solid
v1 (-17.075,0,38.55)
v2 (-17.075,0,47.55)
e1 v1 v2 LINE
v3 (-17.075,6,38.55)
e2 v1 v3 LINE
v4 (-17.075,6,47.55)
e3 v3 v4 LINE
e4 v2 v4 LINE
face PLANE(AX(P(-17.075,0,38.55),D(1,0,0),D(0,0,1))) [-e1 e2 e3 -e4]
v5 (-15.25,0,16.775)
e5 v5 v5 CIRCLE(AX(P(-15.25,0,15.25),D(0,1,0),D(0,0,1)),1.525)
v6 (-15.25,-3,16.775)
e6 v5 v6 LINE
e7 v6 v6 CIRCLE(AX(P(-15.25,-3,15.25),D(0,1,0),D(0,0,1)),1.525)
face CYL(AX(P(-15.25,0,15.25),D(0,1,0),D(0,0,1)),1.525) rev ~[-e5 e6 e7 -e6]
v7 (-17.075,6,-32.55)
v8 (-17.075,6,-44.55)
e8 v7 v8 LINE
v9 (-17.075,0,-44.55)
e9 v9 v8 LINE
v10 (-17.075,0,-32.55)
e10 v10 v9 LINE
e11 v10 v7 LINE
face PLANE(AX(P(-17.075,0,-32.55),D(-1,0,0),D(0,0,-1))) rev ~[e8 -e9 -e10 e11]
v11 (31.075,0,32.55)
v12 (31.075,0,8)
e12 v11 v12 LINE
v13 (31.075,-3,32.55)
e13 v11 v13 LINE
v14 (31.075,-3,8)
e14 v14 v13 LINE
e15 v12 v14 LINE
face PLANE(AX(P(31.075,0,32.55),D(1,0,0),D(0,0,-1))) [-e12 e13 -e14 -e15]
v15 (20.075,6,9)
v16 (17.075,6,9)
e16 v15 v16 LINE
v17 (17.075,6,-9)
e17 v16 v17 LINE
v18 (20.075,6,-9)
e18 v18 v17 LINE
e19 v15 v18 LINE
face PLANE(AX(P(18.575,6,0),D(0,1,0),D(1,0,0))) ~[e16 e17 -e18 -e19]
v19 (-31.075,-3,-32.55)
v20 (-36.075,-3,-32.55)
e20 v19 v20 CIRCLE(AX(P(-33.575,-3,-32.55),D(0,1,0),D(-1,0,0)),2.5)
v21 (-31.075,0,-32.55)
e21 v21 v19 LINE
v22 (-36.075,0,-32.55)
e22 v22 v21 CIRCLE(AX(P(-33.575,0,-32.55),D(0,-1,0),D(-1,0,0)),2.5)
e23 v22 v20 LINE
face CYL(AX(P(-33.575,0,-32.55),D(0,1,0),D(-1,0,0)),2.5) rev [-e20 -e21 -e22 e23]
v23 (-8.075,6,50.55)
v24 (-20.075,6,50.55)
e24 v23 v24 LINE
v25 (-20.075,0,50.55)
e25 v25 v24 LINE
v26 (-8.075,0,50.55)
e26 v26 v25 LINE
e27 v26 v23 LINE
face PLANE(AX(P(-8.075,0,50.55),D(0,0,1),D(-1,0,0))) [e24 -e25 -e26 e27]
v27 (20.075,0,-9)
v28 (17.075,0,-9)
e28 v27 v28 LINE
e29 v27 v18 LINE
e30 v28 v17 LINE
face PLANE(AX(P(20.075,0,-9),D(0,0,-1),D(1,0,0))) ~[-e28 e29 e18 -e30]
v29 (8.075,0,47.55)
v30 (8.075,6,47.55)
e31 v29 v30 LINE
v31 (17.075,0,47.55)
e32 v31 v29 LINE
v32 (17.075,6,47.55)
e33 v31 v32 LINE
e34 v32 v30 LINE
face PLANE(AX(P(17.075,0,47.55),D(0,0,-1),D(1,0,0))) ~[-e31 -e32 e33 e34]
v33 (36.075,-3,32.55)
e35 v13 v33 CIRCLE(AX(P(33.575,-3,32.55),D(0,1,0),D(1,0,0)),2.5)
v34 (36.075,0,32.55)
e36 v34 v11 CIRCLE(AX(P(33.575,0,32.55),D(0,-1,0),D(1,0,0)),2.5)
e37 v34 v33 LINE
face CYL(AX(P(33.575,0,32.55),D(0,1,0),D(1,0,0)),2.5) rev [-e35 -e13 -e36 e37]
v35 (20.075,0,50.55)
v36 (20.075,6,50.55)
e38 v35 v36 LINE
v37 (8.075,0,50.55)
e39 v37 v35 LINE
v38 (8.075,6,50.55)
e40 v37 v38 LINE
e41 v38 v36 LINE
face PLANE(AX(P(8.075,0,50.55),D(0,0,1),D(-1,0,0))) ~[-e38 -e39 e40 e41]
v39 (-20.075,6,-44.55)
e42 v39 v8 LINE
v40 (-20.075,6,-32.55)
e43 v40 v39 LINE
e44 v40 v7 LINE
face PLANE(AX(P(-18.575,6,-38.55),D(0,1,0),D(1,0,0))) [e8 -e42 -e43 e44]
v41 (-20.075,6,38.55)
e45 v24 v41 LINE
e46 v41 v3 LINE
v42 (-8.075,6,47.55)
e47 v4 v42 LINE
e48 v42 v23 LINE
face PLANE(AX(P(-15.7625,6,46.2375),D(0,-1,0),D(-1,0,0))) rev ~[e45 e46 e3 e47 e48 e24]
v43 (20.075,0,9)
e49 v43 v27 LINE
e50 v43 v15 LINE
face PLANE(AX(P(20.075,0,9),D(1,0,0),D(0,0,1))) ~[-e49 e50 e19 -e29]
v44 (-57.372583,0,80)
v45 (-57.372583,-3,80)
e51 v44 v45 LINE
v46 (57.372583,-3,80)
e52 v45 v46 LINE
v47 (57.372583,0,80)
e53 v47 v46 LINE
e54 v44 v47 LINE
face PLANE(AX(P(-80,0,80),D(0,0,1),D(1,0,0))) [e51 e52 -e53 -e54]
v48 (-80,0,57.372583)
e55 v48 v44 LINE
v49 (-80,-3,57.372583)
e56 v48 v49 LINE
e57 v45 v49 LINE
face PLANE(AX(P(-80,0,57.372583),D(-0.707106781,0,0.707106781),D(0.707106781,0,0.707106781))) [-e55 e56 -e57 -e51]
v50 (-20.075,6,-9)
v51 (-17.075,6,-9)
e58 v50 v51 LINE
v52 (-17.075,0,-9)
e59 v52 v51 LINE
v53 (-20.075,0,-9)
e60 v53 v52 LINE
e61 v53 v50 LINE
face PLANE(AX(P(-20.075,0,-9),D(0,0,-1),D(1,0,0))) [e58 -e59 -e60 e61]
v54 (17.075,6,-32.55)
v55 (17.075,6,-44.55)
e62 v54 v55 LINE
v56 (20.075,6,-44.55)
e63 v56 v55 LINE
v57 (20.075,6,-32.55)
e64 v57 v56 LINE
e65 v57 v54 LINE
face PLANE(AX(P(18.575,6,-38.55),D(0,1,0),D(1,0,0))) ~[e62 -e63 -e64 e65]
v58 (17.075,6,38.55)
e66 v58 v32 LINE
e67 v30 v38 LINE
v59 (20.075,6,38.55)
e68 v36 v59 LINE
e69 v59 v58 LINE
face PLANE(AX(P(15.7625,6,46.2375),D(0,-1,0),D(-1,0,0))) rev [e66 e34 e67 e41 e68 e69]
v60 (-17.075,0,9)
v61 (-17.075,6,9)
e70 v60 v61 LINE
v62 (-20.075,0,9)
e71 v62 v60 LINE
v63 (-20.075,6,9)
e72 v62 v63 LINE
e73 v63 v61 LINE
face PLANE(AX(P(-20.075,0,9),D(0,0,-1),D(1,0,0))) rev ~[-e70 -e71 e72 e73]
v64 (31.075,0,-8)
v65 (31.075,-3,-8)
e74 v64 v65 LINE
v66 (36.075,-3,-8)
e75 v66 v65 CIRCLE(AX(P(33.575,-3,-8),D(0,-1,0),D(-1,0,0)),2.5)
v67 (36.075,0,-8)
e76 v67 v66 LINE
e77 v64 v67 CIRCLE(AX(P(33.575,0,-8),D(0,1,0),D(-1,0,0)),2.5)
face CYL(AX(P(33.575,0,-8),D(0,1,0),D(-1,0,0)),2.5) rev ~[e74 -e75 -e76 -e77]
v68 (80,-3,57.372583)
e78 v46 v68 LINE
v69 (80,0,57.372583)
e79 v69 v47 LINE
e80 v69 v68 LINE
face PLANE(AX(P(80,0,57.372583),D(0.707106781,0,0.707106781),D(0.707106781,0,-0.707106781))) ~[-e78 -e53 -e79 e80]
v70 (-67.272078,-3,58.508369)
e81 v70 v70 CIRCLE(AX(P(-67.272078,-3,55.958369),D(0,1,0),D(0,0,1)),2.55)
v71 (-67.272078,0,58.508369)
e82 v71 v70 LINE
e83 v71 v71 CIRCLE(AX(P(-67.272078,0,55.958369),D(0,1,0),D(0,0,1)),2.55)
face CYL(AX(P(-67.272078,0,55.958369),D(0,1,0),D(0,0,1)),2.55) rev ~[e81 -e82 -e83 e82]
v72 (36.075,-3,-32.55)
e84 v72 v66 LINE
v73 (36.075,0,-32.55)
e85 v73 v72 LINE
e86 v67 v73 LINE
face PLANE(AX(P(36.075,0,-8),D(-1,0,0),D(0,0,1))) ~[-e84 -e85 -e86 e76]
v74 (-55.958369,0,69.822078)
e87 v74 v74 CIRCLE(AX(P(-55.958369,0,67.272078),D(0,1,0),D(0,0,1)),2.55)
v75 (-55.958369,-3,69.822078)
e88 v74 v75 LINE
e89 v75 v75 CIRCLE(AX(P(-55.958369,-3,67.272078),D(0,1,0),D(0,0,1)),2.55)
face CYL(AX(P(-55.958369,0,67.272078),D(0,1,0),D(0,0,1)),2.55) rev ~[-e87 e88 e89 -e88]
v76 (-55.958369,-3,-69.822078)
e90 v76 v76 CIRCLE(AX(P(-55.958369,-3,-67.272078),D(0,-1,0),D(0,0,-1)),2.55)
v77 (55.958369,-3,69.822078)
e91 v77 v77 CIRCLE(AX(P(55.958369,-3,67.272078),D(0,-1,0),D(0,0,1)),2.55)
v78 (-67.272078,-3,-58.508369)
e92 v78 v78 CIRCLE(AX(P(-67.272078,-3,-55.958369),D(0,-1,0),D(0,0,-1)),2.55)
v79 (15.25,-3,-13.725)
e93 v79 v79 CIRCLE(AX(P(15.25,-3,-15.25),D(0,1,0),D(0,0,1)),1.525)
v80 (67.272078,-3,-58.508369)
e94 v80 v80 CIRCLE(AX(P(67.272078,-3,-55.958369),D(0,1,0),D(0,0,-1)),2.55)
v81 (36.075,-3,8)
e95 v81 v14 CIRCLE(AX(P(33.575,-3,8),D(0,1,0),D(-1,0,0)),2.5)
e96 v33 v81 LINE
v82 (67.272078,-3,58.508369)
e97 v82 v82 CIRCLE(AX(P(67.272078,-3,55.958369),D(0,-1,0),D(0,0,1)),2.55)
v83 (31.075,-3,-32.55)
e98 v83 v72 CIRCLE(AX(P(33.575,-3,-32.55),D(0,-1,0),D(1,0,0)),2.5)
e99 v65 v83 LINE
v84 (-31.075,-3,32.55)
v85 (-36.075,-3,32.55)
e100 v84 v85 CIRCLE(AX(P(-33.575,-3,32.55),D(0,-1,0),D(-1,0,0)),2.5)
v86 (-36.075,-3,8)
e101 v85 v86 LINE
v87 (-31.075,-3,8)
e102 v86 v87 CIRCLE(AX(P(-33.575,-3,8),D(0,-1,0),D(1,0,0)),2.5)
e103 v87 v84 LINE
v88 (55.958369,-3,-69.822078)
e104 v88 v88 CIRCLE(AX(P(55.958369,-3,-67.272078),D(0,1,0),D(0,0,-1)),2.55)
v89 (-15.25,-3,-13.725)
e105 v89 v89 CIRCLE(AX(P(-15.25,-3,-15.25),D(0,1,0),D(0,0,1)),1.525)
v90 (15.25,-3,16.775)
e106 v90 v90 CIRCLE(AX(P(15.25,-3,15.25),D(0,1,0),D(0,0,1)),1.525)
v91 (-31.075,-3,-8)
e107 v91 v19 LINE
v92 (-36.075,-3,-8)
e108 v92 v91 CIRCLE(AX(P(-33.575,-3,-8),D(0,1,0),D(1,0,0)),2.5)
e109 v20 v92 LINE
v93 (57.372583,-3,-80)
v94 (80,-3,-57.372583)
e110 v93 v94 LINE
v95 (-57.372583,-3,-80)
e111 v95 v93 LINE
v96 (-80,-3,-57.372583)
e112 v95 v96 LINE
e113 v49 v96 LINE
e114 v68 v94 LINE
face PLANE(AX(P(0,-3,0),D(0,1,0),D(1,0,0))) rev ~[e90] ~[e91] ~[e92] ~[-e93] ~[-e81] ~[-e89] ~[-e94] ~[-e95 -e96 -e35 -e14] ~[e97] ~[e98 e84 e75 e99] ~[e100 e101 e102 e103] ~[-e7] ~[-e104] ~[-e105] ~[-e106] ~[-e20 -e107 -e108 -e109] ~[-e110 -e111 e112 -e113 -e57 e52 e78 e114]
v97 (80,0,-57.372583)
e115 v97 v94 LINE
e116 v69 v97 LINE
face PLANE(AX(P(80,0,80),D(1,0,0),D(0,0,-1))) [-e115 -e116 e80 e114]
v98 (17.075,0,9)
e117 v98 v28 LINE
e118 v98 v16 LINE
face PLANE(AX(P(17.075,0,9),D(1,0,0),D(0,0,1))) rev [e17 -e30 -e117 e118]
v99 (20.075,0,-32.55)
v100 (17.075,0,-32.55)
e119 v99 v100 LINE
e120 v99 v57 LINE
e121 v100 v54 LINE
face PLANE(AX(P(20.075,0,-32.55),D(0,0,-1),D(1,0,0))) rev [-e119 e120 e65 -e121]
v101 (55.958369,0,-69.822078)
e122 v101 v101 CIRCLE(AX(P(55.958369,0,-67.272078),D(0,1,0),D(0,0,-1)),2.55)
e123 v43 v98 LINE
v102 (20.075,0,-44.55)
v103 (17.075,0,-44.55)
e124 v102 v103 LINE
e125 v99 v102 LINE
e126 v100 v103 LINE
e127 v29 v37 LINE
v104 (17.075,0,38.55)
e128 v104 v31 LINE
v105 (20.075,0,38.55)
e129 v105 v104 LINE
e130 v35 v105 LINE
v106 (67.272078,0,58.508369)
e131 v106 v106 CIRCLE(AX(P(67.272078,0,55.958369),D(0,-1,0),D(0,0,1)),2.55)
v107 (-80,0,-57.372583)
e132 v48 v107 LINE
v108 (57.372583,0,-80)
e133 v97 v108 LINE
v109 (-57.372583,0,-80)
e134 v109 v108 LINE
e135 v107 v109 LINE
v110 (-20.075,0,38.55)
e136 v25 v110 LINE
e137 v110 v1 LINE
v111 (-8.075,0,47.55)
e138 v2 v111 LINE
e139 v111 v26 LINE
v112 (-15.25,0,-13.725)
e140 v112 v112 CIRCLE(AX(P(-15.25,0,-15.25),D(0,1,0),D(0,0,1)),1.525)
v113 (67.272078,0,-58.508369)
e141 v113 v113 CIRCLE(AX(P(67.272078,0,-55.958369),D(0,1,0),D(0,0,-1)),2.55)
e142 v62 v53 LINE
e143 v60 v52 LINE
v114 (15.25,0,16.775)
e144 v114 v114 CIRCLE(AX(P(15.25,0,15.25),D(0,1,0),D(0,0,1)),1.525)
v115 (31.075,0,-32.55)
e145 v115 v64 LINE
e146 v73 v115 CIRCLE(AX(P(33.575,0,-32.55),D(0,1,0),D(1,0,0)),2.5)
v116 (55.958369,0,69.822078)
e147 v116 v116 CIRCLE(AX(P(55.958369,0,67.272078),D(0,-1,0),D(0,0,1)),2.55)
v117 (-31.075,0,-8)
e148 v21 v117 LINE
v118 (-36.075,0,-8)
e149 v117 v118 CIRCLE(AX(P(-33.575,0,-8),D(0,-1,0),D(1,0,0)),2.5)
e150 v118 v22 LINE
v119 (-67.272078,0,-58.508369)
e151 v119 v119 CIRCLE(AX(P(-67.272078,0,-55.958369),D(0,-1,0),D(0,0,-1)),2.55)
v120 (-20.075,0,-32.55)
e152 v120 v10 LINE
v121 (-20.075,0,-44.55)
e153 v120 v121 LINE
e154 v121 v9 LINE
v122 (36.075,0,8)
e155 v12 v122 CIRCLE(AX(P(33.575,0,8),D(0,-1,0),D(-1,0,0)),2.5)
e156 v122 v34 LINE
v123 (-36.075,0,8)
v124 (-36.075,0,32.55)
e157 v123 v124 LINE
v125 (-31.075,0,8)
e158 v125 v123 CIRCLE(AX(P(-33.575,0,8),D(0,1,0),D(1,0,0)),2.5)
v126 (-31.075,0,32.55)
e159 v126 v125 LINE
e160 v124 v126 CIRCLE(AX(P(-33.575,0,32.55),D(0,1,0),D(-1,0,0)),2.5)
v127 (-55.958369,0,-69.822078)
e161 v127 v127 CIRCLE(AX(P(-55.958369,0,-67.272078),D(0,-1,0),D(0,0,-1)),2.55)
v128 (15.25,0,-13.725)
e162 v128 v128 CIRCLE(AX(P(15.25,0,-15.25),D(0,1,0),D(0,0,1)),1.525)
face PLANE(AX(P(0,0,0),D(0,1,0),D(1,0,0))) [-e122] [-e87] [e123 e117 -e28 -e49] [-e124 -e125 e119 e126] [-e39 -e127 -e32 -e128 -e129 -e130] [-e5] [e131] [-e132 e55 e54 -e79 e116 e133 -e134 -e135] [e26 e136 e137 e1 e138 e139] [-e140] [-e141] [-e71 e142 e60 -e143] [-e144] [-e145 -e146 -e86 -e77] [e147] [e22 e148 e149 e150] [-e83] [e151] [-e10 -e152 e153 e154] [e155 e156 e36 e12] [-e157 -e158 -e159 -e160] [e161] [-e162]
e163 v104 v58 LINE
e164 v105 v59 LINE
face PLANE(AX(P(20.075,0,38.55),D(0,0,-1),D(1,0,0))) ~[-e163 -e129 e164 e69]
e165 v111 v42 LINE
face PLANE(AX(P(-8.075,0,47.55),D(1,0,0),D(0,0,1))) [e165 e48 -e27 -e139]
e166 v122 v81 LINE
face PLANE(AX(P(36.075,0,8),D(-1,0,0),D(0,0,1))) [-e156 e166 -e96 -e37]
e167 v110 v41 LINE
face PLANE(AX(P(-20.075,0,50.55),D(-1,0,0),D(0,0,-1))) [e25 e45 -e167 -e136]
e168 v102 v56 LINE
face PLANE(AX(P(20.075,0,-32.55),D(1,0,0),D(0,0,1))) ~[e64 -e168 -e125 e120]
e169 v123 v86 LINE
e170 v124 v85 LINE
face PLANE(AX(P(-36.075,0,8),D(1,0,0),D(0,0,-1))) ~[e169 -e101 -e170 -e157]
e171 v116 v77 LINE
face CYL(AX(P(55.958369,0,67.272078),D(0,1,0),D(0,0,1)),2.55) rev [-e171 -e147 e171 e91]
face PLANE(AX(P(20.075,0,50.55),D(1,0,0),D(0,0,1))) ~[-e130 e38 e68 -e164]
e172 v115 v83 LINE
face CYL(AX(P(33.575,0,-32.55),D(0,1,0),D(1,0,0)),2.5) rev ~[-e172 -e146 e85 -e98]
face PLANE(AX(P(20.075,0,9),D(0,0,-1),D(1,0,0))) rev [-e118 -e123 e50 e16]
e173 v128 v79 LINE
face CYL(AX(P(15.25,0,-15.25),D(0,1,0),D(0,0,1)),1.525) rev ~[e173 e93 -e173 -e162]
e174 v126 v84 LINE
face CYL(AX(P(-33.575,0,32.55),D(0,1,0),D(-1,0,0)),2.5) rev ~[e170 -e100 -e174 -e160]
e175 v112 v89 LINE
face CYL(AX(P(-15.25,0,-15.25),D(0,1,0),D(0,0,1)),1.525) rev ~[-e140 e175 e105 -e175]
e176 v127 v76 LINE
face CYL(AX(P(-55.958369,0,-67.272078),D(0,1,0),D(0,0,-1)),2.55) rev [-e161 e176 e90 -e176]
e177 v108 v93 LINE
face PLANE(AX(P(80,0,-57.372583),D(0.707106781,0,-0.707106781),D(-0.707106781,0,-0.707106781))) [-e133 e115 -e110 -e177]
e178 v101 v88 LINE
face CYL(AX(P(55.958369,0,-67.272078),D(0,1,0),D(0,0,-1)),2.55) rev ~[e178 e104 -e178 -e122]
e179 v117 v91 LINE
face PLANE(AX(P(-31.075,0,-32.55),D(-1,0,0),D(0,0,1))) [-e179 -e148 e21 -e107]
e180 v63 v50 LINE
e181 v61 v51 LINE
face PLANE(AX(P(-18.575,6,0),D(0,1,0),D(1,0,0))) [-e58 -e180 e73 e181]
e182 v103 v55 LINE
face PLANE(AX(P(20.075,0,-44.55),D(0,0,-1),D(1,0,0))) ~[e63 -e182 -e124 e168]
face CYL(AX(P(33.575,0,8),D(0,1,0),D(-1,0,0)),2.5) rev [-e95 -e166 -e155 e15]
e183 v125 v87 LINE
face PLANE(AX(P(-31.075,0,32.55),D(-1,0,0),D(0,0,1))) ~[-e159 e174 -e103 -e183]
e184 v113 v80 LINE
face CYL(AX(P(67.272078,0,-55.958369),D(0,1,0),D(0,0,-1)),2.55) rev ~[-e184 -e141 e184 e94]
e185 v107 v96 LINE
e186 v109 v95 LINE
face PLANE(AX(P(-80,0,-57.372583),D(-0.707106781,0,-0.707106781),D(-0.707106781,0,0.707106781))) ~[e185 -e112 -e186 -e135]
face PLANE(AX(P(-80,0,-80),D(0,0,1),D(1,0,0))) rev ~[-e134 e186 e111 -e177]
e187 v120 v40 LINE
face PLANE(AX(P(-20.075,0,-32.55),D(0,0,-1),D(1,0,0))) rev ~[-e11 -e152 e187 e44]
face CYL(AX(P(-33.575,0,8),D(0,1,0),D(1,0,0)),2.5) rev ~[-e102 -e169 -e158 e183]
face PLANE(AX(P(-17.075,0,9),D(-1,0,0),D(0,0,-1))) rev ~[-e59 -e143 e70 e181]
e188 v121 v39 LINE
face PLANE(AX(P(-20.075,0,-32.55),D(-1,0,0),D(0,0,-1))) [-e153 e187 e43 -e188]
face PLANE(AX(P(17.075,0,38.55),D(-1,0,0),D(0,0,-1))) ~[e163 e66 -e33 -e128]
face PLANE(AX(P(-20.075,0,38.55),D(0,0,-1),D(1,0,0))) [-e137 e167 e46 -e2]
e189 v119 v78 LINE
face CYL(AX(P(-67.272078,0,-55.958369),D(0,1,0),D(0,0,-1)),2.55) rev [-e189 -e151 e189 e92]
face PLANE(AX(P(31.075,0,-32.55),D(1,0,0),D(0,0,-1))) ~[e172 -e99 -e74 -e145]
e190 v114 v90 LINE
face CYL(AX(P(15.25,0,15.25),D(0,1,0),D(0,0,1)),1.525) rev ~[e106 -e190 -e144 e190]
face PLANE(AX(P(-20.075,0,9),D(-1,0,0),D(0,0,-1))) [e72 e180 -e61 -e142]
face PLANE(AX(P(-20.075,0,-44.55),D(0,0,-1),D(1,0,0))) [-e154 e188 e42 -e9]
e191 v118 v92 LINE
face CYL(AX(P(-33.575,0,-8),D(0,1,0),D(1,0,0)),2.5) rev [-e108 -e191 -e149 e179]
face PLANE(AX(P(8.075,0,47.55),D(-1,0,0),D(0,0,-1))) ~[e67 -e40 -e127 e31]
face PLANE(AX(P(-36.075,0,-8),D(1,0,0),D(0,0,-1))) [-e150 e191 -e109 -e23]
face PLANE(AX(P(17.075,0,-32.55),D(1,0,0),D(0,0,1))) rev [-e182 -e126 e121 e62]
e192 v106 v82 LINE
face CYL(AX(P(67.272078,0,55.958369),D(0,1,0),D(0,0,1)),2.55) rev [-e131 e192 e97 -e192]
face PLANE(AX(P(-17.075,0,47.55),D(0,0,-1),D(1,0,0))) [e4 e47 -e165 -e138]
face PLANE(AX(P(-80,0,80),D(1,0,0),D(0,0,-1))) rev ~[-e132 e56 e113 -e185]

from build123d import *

# Parameters (mm, degrees)
SKETCH1_W                                  = 160
SKETCH1_H                                  = 160
BOSS_EXTRUDE1_DEPTH                        = 3
CUT_EXTRUDE2_REACH                         = 115.177
CUT_EXTRUDE1_REACH                         = 115.177
SKETCH2_R                                  = 2.55
MIRROR2_AT_THE_SECOND_PLANE_COPY_1_REACH   = 115.177
MIRROR2_AT_THE_SECOND_PLANE_COPY_2_REACH   = 115.177
MIRROR2_AT_THE_SECOND_PLANE_COPY_2_SKETC_R = 2.55
CUT_EXTRUDE3_REACH                         = 115.177
SKETCH11_R                                 = 1.525
SKETCH12_W                                 = 3
SKETCH12_H                                 = 12
SKETCH12_H_2                               = 18
BOSS_EXTRUDE2_DEPTH                        = 6
CUT_EXTRUDE4_REACH                         = 115.296
MIRROR4_AT_THE_SECOND_PLANE_COPY_1_REACH   = 115.296


with BuildPart() as part:
    # Sketch1 → Boss-Extrude1 (new body)
    with BuildSketch(Plane(origin=(0, 0, 0), x_dir=(1, 0, 0), z_dir=(0, 1, 0))):
        Rectangle(SKETCH1_W, SKETCH1_H)
    extrude(amount=-BOSS_EXTRUDE1_DEPTH)

    # Sketch6 → Cut-Extrude2 (cut, up to next)
    with BuildSketch(Plane(origin=(0, 0, 0), x_dir=(1, 0, 0), z_dir=(0, 1, 0)), mode=Mode.PRIVATE) as cut_extrude2_sk1:
        Polygon((-80, -57.372583002), (-57.372583002, -80), (-80, -80), align=None)
    cut_extrude2_tool1 = extrude(cut_extrude2_sk1.sketch, amount=-CUT_EXTRUDE2_REACH, mode=Mode.PRIVATE) & part.part
    cut_extrude2 = cut_extrude2_tool1.solids().sort_by_distance((-72.457528, 0, 72.457528))[0]
    add(cut_extrude2, mode=Mode.SUBTRACT)

    # Sketch2 → Cut-Extrude1 (cut, up to next)
    with BuildSketch(Plane(origin=(0, 0, 0), x_dir=(1, 0, 0), z_dir=(0, 1, 0)), mode=Mode.PRIVATE) as cut_extrude1_sk1:
        with Locations(Location((-67.272077939, -55.95836944, 0), (0, 0, 270))):
            Circle(SKETCH2_R)
    cut_extrude1_tool1 = extrude(cut_extrude1_sk1.sketch, amount=-CUT_EXTRUDE1_REACH, mode=Mode.PRIVATE) & part.part
    # Sketch2 → Cut-Extrude1 (cut, up to next)
    with BuildSketch(Plane(origin=(0, 0, 0), x_dir=(1, 0, 0), z_dir=(0, 1, 0)), mode=Mode.PRIVATE) as cut_extrude1_sk2:
        with Locations(Location((-55.95836944, -67.272077939, 0), (0, 0, 270))):
            Circle(SKETCH2_R)
    cut_extrude1_tool2 = extrude(cut_extrude1_sk2.sketch, amount=-CUT_EXTRUDE1_REACH, mode=Mode.PRIVATE) & part.part
    cut_extrude1_1 = cut_extrude1_tool1.solids().sort_by_distance((-67.272078, 0, 55.958369))[0]
    add(cut_extrude1_1, mode=Mode.SUBTRACT)
    cut_extrude1_2 = cut_extrude1_tool2.solids().sort_by_distance((-55.958369, 0, 67.272078))[0]
    add(cut_extrude1_2, mode=Mode.SUBTRACT)
    cut_extrude1 = cut_extrude1_1 + cut_extrude1_2  # Cut-Extrude1 as one shape, for the pattern or mirror that repeats it

    # Mirror2: Cut-Extrude2, Cut-Extrude1 across plane
    add(cut_extrude2.mirror(Plane(origin=(0, 0, 0), x_dir=(0, 0, 1), z_dir=(1, 0, 0))), mode=Mode.SUBTRACT)
    add(cut_extrude1.mirror(Plane(origin=(0, 0, 0), x_dir=(0, 0, 1), z_dir=(1, 0, 0))), mode=Mode.SUBTRACT)

    # Mirror2 at the second plane: Cut-Extrude2, Cut-Extrude1 across plane
    add(cut_extrude2.mirror(Plane.XY), mode=Mode.SUBTRACT)
    add(cut_extrude1.mirror(Plane.XY), mode=Mode.SUBTRACT)

    # Mirror2 at the second plane copy 1 sketc → Mirror2 at the second plane copy 1 (cut, up to next)
    with BuildSketch(Plane(origin=(0, 0, 0), x_dir=(-1, 0, 0), z_dir=(0, 1, 0)), mode=Mode.PRIVATE) as mirror2_at_the_second_plane_copy_1_sk1:
        Polygon((-80, -57.372583002), (-57.372583002, -80), (-80, -80), align=None)
    mirror2_at_the_second_plane_copy_1_tool1 = extrude(mirror2_at_the_second_plane_copy_1_sk1.sketch, amount=-MIRROR2_AT_THE_SECOND_PLANE_COPY_1_REACH, mode=Mode.PRIVATE) & part.part
    add(mirror2_at_the_second_plane_copy_1_tool1.solids().sort_by_distance((72.457528, 0, -72.457528))[0], mode=Mode.SUBTRACT)

    # Mirror2 at the second plane copy 2 sketc → Mirror2 at the second plane copy 2 (cut, up to next)
    with BuildSketch(Plane(origin=(0, 0, 0), x_dir=(-1, 0, 0), z_dir=(0, 1, 0)), mode=Mode.PRIVATE) as mirror2_at_the_second_plane_copy_2_sk1:
        with Locations(Location((-67.272077939, -55.95836944, 0), (0, 0, 270))):
            Circle(MIRROR2_AT_THE_SECOND_PLANE_COPY_2_SKETC_R)
    mirror2_at_the_second_plane_copy_2_tool1 = extrude(mirror2_at_the_second_plane_copy_2_sk1.sketch, amount=-MIRROR2_AT_THE_SECOND_PLANE_COPY_2_REACH, mode=Mode.PRIVATE) & part.part
    # Mirror2 at the second plane copy 2 sketc → Mirror2 at the second plane copy 2 (cut, up to next)
    with BuildSketch(Plane(origin=(0, 0, 0), x_dir=(-1, 0, 0), z_dir=(0, 1, 0)), mode=Mode.PRIVATE) as mirror2_at_the_second_plane_copy_2_sk2:
        with Locations(Location((-55.95836944, -67.272077939, 0), (0, 0, 270))):
            Circle(MIRROR2_AT_THE_SECOND_PLANE_COPY_2_SKETC_R)
    mirror2_at_the_second_plane_copy_2_tool2 = extrude(mirror2_at_the_second_plane_copy_2_sk2.sketch, amount=-MIRROR2_AT_THE_SECOND_PLANE_COPY_2_REACH, mode=Mode.PRIVATE) & part.part
    add(mirror2_at_the_second_plane_copy_2_tool1.solids().sort_by_distance((67.272078, 0, -55.958369))[0], mode=Mode.SUBTRACT)
    add(mirror2_at_the_second_plane_copy_2_tool2.solids().sort_by_distance((55.958369, 0, -67.272078))[0], mode=Mode.SUBTRACT)

    # Sketch11 → Cut-Extrude3 (cut, up to next)
    with BuildSketch(Plane(origin=(0, 0, 0), x_dir=(1, 0, 0), z_dir=(0, 1, 0)), mode=Mode.PRIVATE) as cut_extrude3_sk1:
        with Locations(Location((-15.25, 15.25, 0), (0, 0, 270))):
            Circle(SKETCH11_R)
    cut_extrude3_tool1 = extrude(cut_extrude3_sk1.sketch, amount=-CUT_EXTRUDE3_REACH, mode=Mode.PRIVATE) & part.part
    # Sketch11 → Cut-Extrude3 (cut, up to next)
    with BuildSketch(Plane(origin=(0, 0, 0), x_dir=(1, 0, 0), z_dir=(0, 1, 0)), mode=Mode.PRIVATE) as cut_extrude3_sk2:
        with Locations(Location((15.25, 15.25, 0), (0, 0, 270))):
            Circle(SKETCH11_R)
    cut_extrude3_tool2 = extrude(cut_extrude3_sk2.sketch, amount=-CUT_EXTRUDE3_REACH, mode=Mode.PRIVATE) & part.part
    # Sketch11 → Cut-Extrude3 (cut, up to next)
    with BuildSketch(Plane(origin=(0, 0, 0), x_dir=(1, 0, 0), z_dir=(0, 1, 0)), mode=Mode.PRIVATE) as cut_extrude3_sk3:
        with Locations(Location((15.25, -15.25, 0), (0, 0, 270))):
            Circle(SKETCH11_R)
    cut_extrude3_tool3 = extrude(cut_extrude3_sk3.sketch, amount=-CUT_EXTRUDE3_REACH, mode=Mode.PRIVATE) & part.part
    # Sketch11 → Cut-Extrude3 (cut, up to next)
    with BuildSketch(Plane(origin=(0, 0, 0), x_dir=(1, 0, 0), z_dir=(0, 1, 0)), mode=Mode.PRIVATE) as cut_extrude3_sk4:
        with Locations(Location((-15.25, -15.25, 0), (0, 0, 270))):
            Circle(SKETCH11_R)
    cut_extrude3_tool4 = extrude(cut_extrude3_sk4.sketch, amount=-CUT_EXTRUDE3_REACH, mode=Mode.PRIVATE) & part.part
    add(cut_extrude3_tool1.solids().sort_by_distance((-15.25, 0, -15.25))[0], mode=Mode.SUBTRACT)
    add(cut_extrude3_tool2.solids().sort_by_distance((15.25, 0, -15.25))[0], mode=Mode.SUBTRACT)
    add(cut_extrude3_tool3.solids().sort_by_distance((15.25, 0, 15.25))[0], mode=Mode.SUBTRACT)
    add(cut_extrude3_tool4.solids().sort_by_distance((-15.25, 0, 15.25))[0], mode=Mode.SUBTRACT)

    # Sketch12 → Boss-Extrude2 (add)
    with BuildSketch(Plane(origin=(0, 0, 0), x_dir=(1, 0, 0), z_dir=(0, 1, 0))):
        Polygon((-17.075, -47.55), (-8.075, -47.55), (-8.075, -50.55), (-20.075, -50.55), (-20.075, -38.55), (-17.075, -38.55), align=None)
        with Locations((-18.575, 38.55)):
            Rectangle(SKETCH12_W, SKETCH12_H)
        with Locations((-18.575, 0)):
            Rectangle(SKETCH12_W, SKETCH12_H_2)
    boss_extrude2 = extrude(amount=BOSS_EXTRUDE2_DEPTH)

    # Mirror3: Boss-Extrude2 across plane
    add(boss_extrude2.mirror(Plane(origin=(0, 0, 0), x_dir=(0, 0, 1), z_dir=(1, 0, 0))))

    # Sketch13 → Cut-Extrude4 (cut, up to next)
    with BuildSketch(Plane(origin=(0, 0, 0), x_dir=(1, 0, 0), z_dir=(0, 1, 0)), mode=Mode.PRIVATE) as cut_extrude4_sk1:
        with BuildLine():
            Line((-31.075, 32.55), (-31.075, 8))
            ThreePointArc((-31.075, 8), (-33.575, 5.5), (-36.075, 8))
            Line((-36.075, 8), (-36.075, 32.55))
            ThreePointArc((-36.075, 32.55), (-33.575, 35.05), (-31.075, 32.55))
        make_face()
    cut_extrude4_tool1 = extrude(cut_extrude4_sk1.sketch, amount=-CUT_EXTRUDE4_REACH, mode=Mode.PRIVATE) & part.part
    cut_extrude4 = cut_extrude4_tool1.solids().sort_by_distance((-33.575, 0, -20.275))[0]
    add(cut_extrude4, mode=Mode.SUBTRACT)

    # Mirror4: Cut-Extrude4 across plane
    add(cut_extrude4.mirror(Plane(origin=(0, 0, 0), x_dir=(0, 0, 1), z_dir=(1, 0, 0))), mode=Mode.SUBTRACT)

    # Mirror4 at the second plane: Cut-Extrude4 across plane
    add(cut_extrude4.mirror(Plane.XY), mode=Mode.SUBTRACT)

    # Mirror4 at the second plane copy 1 sketc → Mirror4 at the second plane copy 1 (cut, up to next)
    with BuildSketch(Plane(origin=(0, 0, 0), x_dir=(-1, 0, 0), z_dir=(0, 1, 0)), mode=Mode.PRIVATE) as mirror4_at_the_second_plane_copy_1_sk1:
        with BuildLine():
            Line((-31.075, 32.55), (-31.075, 8))
            ThreePointArc((-31.075, 8), (-33.575, 5.5), (-36.075, 8))
            Line((-36.075, 8), (-36.075, 32.55))
            ThreePointArc((-36.075, 32.55), (-33.575, 35.05), (-31.075, 32.55))
        make_face()
    mirror4_at_the_second_plane_copy_1_tool1 = extrude(mirror4_at_the_second_plane_copy_1_sk1.sketch, amount=-MIRROR4_AT_THE_SECOND_PLANE_COPY_1_REACH, mode=Mode.PRIVATE) & part.part
    add(mirror4_at_the_second_plane_copy_1_tool1.solids().sort_by_distance((33.575, 0, 20.275))[0], mode=Mode.SUBTRACT)


solid = part.part
